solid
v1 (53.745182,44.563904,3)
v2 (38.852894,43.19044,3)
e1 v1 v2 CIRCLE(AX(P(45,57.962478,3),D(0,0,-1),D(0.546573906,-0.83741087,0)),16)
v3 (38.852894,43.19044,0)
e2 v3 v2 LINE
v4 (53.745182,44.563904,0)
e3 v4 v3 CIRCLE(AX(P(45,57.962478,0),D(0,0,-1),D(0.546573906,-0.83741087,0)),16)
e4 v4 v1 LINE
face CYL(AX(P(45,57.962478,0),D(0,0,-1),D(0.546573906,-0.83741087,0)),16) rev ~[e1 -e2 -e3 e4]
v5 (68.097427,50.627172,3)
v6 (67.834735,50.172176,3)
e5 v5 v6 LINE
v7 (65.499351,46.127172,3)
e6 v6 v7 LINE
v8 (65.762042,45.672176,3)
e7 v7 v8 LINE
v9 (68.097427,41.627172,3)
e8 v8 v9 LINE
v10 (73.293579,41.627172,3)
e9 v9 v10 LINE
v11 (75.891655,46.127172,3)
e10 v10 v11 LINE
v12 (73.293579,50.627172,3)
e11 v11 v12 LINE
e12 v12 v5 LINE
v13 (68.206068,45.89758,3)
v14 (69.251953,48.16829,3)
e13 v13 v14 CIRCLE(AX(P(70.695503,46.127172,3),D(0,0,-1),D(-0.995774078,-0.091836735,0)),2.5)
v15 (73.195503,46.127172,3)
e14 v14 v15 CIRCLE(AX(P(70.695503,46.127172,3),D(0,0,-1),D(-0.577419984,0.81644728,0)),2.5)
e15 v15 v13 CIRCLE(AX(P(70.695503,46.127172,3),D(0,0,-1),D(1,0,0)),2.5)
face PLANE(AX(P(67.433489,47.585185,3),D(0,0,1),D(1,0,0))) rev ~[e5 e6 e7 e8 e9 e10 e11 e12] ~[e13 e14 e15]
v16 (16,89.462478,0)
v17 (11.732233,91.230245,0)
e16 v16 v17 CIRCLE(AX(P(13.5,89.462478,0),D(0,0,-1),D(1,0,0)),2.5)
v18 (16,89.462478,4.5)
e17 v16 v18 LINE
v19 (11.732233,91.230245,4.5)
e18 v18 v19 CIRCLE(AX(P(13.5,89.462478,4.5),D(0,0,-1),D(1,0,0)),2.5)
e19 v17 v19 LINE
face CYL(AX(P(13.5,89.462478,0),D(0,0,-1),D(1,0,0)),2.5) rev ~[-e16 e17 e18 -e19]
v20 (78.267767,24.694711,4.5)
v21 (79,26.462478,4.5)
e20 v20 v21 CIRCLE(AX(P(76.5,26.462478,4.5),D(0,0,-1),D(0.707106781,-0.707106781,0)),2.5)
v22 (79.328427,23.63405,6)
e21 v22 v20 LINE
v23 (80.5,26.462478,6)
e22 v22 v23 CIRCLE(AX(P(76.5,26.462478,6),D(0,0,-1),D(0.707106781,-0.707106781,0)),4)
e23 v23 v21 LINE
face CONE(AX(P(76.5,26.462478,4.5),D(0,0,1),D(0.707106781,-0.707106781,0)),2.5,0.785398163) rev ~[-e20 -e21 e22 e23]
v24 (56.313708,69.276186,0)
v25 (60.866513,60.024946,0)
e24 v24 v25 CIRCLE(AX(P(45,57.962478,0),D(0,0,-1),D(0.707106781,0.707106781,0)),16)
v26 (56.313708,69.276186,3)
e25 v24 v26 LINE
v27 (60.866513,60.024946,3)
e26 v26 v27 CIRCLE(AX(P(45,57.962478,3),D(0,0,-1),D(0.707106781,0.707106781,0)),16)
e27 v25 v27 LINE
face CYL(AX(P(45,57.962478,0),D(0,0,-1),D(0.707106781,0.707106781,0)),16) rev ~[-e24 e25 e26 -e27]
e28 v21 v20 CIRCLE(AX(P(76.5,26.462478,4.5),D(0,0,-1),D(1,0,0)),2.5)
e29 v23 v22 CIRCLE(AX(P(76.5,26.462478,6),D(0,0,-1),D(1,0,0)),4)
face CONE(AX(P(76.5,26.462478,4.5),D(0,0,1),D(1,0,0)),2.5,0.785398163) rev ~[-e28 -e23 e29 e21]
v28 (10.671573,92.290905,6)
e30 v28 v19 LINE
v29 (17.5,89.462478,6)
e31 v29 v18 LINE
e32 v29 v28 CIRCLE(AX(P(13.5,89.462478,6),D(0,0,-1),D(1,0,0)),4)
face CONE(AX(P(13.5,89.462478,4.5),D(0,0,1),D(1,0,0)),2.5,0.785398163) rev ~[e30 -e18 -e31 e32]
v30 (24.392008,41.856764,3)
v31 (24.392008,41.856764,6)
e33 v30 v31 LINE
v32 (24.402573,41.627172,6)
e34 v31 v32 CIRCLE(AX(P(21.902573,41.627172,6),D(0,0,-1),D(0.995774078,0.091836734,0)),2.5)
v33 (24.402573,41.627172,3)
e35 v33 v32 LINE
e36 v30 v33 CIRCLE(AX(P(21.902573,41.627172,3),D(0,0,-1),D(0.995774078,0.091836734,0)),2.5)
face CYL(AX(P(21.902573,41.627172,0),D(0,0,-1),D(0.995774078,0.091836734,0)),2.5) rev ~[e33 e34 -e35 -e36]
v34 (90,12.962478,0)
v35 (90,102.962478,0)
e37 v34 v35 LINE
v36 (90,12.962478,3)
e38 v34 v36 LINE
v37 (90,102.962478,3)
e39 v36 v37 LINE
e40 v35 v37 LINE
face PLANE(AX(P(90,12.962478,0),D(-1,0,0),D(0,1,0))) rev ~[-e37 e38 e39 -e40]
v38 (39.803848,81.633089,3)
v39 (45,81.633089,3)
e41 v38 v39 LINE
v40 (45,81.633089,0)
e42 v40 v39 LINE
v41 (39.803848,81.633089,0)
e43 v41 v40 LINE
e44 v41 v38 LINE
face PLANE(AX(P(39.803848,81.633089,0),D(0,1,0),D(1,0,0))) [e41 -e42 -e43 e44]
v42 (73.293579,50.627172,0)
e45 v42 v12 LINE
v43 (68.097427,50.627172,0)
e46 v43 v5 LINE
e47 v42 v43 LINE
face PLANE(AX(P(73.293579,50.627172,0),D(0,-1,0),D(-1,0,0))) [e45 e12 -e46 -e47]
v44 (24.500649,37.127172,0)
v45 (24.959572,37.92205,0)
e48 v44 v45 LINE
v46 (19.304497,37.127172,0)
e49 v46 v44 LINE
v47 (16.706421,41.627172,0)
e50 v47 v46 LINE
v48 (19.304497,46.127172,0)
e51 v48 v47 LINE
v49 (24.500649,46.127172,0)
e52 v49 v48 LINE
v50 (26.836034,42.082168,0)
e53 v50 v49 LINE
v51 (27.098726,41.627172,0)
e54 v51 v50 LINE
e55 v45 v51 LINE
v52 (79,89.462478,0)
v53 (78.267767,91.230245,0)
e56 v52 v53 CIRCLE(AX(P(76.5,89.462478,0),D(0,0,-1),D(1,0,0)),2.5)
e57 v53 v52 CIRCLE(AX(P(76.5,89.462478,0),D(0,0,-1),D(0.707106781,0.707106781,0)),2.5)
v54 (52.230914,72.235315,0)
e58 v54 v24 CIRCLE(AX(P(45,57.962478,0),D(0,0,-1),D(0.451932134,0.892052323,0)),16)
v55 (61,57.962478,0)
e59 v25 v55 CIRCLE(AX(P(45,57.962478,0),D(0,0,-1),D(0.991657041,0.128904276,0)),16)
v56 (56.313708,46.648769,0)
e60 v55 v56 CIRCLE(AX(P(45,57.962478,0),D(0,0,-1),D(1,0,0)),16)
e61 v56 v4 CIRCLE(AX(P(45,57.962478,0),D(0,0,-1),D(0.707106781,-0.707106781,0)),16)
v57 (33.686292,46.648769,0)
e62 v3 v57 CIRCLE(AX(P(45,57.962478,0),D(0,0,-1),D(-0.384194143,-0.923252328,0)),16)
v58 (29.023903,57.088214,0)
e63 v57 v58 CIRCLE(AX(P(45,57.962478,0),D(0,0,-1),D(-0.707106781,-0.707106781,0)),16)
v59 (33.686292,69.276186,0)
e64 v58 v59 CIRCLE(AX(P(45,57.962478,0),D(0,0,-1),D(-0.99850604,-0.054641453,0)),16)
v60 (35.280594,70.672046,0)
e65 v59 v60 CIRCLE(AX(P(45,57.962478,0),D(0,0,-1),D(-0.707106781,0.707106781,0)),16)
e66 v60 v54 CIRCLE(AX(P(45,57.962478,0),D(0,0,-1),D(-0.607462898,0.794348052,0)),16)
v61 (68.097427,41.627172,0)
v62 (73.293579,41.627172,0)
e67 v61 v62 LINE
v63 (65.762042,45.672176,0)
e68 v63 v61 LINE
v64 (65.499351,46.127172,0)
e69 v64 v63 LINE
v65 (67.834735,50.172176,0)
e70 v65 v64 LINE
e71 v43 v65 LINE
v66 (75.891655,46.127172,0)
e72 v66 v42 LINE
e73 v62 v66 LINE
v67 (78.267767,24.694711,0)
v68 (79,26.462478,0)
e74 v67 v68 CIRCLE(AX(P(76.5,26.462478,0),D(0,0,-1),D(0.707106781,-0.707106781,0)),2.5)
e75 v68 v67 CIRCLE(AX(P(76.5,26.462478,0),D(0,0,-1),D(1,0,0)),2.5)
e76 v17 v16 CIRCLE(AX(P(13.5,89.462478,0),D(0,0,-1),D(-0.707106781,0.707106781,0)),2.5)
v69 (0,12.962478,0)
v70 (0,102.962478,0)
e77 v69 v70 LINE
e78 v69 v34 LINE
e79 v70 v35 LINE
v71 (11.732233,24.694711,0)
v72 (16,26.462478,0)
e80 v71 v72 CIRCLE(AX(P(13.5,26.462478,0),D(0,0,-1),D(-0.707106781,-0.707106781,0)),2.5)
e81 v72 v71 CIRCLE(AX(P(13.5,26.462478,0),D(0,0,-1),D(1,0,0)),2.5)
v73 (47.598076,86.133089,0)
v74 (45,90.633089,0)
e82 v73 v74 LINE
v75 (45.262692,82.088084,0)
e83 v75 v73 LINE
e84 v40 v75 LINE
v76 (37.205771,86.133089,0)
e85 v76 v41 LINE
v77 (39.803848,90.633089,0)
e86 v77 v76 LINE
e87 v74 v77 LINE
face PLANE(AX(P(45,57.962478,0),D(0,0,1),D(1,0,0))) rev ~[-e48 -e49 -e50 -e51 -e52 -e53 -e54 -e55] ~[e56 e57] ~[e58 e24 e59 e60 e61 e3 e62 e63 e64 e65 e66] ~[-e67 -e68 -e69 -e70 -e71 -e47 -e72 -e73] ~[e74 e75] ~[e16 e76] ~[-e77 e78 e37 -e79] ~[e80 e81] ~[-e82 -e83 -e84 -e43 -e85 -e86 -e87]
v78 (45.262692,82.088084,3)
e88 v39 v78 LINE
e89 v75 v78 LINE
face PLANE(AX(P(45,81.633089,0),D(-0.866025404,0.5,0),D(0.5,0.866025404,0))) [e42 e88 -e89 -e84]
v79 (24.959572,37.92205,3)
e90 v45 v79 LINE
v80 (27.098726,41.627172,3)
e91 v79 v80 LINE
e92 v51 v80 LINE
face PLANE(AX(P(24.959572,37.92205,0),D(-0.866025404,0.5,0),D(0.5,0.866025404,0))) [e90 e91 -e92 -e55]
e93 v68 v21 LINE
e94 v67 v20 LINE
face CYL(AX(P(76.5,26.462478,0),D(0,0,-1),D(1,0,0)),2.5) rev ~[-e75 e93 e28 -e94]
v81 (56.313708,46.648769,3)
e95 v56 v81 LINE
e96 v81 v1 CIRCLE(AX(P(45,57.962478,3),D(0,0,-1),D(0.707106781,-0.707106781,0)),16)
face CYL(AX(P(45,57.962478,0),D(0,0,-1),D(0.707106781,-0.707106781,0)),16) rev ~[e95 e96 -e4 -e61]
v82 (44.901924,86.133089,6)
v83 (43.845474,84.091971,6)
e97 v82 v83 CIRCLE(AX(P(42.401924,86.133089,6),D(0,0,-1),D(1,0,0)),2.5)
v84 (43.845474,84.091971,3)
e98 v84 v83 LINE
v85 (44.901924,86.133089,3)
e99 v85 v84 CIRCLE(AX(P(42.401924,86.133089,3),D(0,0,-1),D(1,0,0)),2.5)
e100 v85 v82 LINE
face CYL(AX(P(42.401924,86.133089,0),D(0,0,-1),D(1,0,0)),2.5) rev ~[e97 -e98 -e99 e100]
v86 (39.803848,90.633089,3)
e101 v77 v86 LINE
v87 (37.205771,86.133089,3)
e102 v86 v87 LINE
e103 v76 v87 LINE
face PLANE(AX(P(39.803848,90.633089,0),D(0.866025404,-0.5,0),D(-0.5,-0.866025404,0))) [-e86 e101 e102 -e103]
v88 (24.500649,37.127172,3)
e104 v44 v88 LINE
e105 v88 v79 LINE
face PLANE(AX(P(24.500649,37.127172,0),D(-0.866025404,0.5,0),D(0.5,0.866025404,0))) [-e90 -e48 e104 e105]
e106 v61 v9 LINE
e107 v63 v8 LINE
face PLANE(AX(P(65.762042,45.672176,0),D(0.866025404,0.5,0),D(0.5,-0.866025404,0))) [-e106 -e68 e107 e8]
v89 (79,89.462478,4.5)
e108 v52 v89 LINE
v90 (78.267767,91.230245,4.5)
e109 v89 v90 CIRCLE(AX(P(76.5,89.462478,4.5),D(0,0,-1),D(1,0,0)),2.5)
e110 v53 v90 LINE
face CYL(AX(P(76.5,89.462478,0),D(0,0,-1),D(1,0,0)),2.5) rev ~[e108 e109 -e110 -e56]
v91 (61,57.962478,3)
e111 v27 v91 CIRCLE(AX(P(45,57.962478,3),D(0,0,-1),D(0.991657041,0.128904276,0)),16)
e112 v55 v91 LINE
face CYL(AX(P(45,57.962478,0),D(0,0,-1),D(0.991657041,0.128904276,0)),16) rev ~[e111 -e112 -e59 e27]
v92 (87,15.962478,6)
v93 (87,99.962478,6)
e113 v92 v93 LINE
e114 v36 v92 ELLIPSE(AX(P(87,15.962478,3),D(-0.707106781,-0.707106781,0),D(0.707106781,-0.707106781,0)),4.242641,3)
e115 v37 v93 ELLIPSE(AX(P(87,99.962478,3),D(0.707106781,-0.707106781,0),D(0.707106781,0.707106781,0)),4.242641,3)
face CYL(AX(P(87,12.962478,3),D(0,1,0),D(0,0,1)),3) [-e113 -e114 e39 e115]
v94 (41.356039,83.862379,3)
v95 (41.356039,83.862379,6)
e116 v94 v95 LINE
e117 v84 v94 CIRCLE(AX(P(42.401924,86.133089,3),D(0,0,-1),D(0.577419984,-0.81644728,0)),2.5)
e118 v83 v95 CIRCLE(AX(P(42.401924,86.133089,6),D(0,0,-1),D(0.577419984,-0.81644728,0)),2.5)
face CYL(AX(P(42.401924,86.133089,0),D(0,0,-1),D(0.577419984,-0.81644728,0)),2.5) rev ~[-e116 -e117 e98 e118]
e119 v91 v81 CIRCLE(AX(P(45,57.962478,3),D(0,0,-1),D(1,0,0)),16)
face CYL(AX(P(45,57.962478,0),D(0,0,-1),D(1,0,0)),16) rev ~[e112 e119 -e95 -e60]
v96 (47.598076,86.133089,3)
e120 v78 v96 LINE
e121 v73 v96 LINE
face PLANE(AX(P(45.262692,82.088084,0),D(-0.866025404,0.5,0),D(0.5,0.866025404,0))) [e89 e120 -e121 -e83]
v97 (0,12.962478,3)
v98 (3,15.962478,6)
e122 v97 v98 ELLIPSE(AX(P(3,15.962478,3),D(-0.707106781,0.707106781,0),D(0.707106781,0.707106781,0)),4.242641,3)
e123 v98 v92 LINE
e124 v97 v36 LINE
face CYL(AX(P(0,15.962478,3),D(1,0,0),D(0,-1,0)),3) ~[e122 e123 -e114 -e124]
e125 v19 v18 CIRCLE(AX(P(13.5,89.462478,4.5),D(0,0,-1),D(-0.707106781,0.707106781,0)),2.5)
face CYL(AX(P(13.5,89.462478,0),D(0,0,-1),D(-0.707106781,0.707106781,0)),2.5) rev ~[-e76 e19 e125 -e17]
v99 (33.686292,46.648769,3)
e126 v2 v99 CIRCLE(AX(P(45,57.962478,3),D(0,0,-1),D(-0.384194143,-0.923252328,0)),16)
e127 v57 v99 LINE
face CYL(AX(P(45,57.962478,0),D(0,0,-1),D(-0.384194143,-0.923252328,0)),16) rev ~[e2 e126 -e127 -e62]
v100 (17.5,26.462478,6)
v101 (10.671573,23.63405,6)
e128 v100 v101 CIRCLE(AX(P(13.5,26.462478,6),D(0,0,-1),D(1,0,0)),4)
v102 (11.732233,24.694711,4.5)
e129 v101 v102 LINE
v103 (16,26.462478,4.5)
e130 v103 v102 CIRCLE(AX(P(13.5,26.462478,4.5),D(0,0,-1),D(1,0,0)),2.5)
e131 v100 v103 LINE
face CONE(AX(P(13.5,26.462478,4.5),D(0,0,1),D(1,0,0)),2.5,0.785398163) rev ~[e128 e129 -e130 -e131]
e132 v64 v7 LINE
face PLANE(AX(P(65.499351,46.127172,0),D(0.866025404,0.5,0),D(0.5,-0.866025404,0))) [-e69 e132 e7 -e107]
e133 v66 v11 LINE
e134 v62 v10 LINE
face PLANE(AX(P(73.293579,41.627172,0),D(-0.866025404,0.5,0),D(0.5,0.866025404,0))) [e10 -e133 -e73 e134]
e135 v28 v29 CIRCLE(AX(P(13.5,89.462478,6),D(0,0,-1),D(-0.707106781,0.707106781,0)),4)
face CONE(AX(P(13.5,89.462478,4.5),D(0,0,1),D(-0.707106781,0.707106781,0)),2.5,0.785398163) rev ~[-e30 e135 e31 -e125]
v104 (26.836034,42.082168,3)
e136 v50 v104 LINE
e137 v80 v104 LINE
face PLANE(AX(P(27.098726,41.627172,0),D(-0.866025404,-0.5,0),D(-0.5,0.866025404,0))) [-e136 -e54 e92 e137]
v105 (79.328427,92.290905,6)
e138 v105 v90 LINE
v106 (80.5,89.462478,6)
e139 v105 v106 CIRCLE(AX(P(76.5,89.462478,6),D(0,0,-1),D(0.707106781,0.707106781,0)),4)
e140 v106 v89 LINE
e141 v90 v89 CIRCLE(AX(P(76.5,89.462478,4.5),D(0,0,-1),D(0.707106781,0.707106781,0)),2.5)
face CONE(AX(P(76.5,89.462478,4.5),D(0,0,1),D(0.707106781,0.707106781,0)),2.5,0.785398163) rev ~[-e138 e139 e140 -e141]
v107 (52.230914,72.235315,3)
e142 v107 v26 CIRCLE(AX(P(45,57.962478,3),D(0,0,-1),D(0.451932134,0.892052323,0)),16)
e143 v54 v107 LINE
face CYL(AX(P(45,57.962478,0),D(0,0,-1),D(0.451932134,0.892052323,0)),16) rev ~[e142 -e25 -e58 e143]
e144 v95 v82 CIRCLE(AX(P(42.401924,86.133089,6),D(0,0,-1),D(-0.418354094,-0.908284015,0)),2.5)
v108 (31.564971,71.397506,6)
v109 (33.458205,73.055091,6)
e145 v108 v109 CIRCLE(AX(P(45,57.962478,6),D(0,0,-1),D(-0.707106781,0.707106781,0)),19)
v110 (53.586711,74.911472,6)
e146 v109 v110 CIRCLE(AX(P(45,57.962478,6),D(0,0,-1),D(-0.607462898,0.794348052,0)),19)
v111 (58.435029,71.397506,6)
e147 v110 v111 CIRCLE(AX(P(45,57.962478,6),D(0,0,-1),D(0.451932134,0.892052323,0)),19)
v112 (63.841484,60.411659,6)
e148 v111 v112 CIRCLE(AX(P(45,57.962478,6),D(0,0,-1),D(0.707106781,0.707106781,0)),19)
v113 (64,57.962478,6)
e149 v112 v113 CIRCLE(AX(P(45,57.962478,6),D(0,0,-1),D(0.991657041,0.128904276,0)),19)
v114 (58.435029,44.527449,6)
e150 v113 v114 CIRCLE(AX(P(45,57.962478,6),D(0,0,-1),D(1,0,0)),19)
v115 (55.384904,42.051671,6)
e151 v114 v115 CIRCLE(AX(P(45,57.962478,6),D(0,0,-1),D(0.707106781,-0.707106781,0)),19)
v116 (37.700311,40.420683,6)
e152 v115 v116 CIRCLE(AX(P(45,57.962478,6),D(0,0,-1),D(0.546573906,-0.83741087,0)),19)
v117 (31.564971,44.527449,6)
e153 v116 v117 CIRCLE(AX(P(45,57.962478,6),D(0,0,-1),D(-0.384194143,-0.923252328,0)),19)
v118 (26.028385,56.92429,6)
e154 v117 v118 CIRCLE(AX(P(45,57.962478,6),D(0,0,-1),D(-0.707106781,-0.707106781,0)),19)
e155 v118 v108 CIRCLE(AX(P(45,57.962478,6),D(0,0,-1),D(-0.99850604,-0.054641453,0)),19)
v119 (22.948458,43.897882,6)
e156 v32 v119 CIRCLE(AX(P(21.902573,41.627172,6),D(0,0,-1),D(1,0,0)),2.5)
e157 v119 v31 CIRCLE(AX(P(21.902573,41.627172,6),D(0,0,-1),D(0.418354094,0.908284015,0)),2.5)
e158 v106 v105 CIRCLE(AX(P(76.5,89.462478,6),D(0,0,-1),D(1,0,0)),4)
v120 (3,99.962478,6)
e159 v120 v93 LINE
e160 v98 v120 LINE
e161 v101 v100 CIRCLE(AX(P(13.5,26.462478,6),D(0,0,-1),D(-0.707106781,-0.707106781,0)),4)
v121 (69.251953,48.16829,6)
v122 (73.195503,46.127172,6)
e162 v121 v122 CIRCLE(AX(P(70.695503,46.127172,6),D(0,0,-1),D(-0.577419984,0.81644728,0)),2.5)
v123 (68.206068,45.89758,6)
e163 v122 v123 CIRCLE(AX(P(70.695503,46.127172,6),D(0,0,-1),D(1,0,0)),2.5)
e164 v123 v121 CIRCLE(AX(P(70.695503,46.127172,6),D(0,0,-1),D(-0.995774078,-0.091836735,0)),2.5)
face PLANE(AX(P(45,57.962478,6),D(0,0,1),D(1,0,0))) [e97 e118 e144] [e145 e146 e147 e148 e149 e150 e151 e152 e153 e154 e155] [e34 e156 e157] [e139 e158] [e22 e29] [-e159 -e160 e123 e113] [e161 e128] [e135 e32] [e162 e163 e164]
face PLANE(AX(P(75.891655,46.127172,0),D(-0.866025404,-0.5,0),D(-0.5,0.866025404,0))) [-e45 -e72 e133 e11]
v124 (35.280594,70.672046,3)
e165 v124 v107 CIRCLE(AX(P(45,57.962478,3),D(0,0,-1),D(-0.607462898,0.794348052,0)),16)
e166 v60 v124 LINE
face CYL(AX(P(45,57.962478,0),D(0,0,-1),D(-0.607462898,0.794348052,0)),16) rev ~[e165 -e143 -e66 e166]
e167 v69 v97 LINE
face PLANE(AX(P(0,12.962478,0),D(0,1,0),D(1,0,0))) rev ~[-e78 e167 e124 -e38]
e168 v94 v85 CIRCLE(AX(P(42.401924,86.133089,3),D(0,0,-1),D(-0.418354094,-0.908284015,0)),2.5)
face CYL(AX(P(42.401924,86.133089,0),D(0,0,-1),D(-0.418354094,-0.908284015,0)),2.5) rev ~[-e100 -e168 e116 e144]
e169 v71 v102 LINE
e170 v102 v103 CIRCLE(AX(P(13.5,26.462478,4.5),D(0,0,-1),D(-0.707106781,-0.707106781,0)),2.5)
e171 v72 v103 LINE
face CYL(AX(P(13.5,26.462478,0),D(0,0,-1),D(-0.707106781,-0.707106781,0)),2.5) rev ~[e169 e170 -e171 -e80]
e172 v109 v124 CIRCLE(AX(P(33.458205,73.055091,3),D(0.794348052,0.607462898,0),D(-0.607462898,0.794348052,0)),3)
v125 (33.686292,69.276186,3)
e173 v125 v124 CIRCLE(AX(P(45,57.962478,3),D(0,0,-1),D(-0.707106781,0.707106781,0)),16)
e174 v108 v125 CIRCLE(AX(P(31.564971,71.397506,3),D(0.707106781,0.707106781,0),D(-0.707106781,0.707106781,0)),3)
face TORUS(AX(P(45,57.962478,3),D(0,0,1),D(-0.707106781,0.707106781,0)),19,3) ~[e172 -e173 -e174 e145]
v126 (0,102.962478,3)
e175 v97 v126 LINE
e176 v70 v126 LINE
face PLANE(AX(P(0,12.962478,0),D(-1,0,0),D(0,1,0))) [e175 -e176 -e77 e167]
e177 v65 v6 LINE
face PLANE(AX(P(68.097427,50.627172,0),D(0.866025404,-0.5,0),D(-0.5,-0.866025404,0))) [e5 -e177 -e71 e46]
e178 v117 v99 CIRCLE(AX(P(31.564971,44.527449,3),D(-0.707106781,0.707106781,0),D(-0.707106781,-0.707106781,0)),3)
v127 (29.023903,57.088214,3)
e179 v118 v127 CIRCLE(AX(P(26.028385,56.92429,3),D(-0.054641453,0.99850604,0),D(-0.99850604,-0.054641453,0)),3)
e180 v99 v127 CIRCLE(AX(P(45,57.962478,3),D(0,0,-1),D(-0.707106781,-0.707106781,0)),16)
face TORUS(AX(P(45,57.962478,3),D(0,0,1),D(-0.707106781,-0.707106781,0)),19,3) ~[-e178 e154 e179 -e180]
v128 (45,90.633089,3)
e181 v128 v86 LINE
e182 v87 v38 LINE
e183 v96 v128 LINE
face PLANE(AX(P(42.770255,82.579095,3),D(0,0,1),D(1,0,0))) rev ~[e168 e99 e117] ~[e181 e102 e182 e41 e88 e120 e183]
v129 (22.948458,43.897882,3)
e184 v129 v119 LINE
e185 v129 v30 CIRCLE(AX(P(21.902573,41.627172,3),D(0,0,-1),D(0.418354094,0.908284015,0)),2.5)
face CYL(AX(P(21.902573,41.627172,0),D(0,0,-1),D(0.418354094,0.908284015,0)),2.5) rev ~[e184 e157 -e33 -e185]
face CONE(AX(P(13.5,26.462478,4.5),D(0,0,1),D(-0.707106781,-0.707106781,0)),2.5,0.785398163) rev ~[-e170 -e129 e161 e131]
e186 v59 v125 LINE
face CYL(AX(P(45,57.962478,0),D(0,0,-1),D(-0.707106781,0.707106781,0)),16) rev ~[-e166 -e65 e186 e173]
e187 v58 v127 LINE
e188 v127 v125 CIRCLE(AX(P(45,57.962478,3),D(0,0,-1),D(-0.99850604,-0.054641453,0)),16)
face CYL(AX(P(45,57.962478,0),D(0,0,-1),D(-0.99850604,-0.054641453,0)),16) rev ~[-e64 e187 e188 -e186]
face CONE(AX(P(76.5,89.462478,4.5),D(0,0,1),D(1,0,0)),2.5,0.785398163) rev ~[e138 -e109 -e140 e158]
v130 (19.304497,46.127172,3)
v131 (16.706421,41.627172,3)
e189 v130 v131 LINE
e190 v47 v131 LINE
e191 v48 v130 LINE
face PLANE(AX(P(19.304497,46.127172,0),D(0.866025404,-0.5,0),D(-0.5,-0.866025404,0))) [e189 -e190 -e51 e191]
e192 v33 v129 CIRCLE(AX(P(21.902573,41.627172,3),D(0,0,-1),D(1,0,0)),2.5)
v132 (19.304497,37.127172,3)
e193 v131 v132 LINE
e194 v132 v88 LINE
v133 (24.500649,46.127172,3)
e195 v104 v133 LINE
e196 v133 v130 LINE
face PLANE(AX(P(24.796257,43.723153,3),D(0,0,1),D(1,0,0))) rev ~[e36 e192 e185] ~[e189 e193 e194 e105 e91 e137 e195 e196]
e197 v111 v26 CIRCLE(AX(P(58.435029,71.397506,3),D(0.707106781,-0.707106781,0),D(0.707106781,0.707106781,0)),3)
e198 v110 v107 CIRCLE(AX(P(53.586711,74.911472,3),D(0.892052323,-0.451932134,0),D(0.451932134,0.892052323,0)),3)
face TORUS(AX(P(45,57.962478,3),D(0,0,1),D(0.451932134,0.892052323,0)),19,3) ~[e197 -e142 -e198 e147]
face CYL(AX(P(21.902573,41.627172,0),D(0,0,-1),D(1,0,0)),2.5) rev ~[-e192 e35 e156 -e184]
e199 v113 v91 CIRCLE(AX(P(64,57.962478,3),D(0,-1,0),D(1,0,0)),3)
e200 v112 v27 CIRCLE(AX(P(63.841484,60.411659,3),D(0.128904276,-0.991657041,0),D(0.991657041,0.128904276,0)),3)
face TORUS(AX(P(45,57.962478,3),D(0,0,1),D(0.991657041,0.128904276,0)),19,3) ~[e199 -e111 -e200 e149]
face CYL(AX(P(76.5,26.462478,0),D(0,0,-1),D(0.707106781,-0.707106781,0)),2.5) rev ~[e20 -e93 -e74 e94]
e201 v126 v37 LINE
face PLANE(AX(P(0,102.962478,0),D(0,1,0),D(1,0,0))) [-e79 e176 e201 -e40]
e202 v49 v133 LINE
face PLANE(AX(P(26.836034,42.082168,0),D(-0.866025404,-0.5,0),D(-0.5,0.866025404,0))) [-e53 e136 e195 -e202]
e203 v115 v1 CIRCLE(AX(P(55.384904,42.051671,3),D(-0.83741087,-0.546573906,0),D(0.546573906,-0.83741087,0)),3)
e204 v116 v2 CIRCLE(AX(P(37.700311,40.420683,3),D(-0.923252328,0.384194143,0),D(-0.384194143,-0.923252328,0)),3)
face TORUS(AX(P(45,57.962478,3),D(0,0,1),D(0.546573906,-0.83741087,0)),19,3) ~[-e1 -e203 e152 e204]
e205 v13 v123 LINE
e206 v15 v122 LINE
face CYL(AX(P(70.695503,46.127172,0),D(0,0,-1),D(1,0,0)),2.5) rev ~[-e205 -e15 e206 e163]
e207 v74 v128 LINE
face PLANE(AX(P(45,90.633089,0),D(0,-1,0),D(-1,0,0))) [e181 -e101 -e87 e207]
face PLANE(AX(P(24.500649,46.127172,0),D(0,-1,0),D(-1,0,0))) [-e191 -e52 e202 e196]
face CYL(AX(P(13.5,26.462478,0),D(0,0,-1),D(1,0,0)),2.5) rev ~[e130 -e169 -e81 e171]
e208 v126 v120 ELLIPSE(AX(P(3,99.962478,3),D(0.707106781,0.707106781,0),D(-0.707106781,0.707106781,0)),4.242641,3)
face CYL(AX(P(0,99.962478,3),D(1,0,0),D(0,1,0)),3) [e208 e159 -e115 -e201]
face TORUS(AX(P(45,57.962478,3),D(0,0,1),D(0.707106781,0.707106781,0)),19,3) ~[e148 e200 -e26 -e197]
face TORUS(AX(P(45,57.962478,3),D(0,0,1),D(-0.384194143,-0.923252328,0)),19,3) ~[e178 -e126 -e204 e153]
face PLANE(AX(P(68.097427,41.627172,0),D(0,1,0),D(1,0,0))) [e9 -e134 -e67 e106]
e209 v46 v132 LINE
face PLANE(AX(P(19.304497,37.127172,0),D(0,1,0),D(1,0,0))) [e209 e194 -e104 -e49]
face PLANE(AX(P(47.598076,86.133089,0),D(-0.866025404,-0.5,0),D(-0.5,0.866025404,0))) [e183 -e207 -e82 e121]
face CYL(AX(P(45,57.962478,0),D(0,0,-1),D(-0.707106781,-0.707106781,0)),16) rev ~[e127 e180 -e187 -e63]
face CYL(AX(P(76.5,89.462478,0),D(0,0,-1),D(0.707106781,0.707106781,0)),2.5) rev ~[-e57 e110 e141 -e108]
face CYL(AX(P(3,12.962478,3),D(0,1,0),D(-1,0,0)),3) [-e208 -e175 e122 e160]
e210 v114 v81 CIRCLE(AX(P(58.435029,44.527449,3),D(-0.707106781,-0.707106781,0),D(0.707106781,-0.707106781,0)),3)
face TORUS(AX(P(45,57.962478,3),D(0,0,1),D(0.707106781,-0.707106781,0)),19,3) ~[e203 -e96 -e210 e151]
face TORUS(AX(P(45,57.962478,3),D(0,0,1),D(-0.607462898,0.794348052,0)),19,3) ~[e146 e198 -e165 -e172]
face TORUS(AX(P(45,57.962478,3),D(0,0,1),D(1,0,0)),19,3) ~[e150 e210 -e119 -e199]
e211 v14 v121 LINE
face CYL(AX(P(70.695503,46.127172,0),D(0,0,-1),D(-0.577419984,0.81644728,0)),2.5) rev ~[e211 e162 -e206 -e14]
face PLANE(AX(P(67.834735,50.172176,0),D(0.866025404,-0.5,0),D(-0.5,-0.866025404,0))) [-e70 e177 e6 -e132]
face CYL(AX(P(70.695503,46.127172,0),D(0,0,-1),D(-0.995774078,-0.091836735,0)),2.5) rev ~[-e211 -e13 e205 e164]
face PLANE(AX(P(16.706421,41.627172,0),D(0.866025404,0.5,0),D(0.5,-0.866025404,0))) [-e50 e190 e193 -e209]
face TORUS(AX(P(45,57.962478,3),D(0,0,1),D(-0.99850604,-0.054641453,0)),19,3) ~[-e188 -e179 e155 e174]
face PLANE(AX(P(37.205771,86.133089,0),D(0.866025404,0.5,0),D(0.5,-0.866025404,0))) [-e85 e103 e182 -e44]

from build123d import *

# Parameters (mm, degrees)
F0_W     = 90
F0_H     = 90
F1_DEPTH = 6
F2_DEPTH = 3
F3_R     = 3
F4_SIZE  = 1.5


with BuildPart() as f1:
    # F0 (on Top) → F1 (new body)
    with BuildSketch(Plane.XY):
        with Locations((45, 57.9624775852)):
            Rectangle(F0_W, F0_H)
        with BuildLine():
            ThreePointArc((16, 26.4624775852), (14.4567085809, 24.152778754), (11.732233047, 24.6947106323))
            ThreePointArc((11.732233047, 24.6947106323), (12.5432914191, 28.7721764165), (16, 26.4624775852))
        make_face(mode=Mode.SUBTRACT)
        with BuildLine():
            ThreePointArc((79, 26.4624775852), (78.8096988313, 25.5057690043), (78.267766953, 24.6947106323))
            ThreePointArc((78.267766953, 24.6947106323), (74.1903011687, 27.4191861662), (79, 26.4624775852))
        make_face(mode=Mode.SUBTRACT)
        with BuildLine():
            ThreePointArc((16, 89.4624775852), (12.5432914191, 87.152778754), (11.732233047, 91.2302445382))
            ThreePointArc((11.732233047, 91.2302445382), (14.4567085809, 91.7721764165), (16, 89.4624775852))
        make_face(mode=Mode.SUBTRACT)
        with BuildLine():
            Line((65.762042471, 45.6721763201), (53.7451824967, 44.5639036649))
            ThreePointArc((53.7451824967, 44.5639036649), (46.4693877551, 42.0300923393), (38.8528937147, 43.190440342))
            Line((38.8528937147, 43.190440342), (26.8360337403, 42.0821676867))
            Line((26.8360337403, 42.0821676867), (27.0987256205, 41.6271720034))
            Line((27.0987256205, 41.6271720034), (24.9595724614, 37.9220500467))
            Line((24.9595724614, 37.9220500467), (24.5006494092, 37.1271720034))
            Line((24.5006494092, 37.1271720034), (19.3044969865, 37.1271720034))
            Line((19.3044969865, 37.1271720034), (16.7064207751, 41.6271720034))
            Line((16.7064207751, 41.6271720034), (19.3044969865, 46.1271720034))
            Line((19.3044969865, 46.1271720034), (23.9752656487, 46.1271720034))
            Line((23.9752656487, 46.1271720034), (29.0239033621, 57.0882143426))
            ThreePointArc((29.0239033621, 57.0882143426), (30.0561039252, 63.6791173416), (33.686291501, 69.2761860842))
            ThreePointArc((33.686291501, 69.2761860842), (34.4603089777, 70.0005386067), (35.2805936243, 70.6720464098))
            Line((35.2805936243, 70.6720464098), (40.3292313377, 81.6330887489))
            Line((40.3292313377, 81.6330887489), (39.8038475773, 81.6330887489))
            Line((39.8038475773, 81.6330887489), (37.2057713659, 86.1330887489))
            Line((37.2057713659, 86.1330887489), (39.8038475773, 90.6330887489))
            Line((39.8038475773, 90.6330887489), (45, 90.6330887489))
            Line((45, 90.6330887489), (47.5980762114, 86.1330887489))
            Line((47.5980762114, 86.1330887489), (45.2626918802, 82.0880844322))
            Line((45.2626918802, 82.0880844322), (52.2309141412, 72.2353147483))
            ThreePointArc((52.2309141412, 72.2353147483), (54.3896148925, 70.9175975064), (56.313708499, 69.2761860842))
            ThreePointArc((56.313708499, 69.2761860842), (59.3557468051, 65.0273578863), (60.866512661, 60.024946004))
            Line((60.866512661, 60.024946004), (67.8347349219, 50.1721763201))
            Line((67.8347349219, 50.1721763201), (68.0974268022, 50.6271720034))
            Line((68.0974268022, 50.6271720034), (73.2935792249, 50.6271720034))
            Line((73.2935792249, 50.6271720034), (75.8916554362, 46.1271720034))
            Line((75.8916554362, 46.1271720034), (73.2935792249, 41.6271720034))
            Line((73.2935792249, 41.6271720034), (68.0974268022, 41.6271720034))
            Line((68.0974268022, 41.6271720034), (65.762042471, 45.6721763201))
        make_face(mode=Mode.SUBTRACT)
        with BuildLine():
            ThreePointArc((79, 89.4624775852), (74.1903011687, 88.5057690043), (78.267766953, 91.2302445382))
            ThreePointArc((78.267766953, 91.2302445382), (78.8096988313, 90.4191861662), (79, 89.4624775852))
        make_face(mode=Mode.SUBTRACT)
        with BuildLine():
            Line((26.8360337403, 42.0821676867), (38.8528937147, 43.190440342))
            ThreePointArc((38.8528937147, 43.190440342), (36.099998727, 44.6662383673), (33.686291501, 46.6487690863))
            ThreePointArc((33.686291501, 46.6487690863), (30.3907950108, 51.4378220707), (29.0239033621, 57.0882143426))
            Line((29.0239033621, 57.0882143426), (23.9752656487, 46.1271720034))
            Line((23.9752656487, 46.1271720034), (24.5006494092, 46.1271720034))
            Line((24.5006494092, 46.1271720034), (26.8360337403, 42.0821676867))
        make_face()
        with BuildLine():
            Line((40.3292313377, 81.6330887489), (35.2805936243, 70.6720464098))
            ThreePointArc((35.2805936243, 70.6720464098), (43.5306122449, 73.8948628312), (52.2309141412, 72.2353147483))
            Line((52.2309141412, 72.2353147483), (45.2626918802, 82.0880844322))
            Line((45.2626918802, 82.0880844322), (45, 81.6330887489))
            Line((45, 81.6330887489), (40.3292313377, 81.6330887489))
        make_face()
        with BuildLine():
            ThreePointArc((61, 57.9624775852), (59.7820725202, 51.8395426674), (56.313708499, 46.6487690863))
            ThreePointArc((56.313708499, 46.6487690863), (55.0834737541, 45.5397742945), (53.7451824967, 44.5639036649))
            Line((53.7451824967, 44.5639036649), (65.762042471, 45.6721763201))
            Line((65.762042471, 45.6721763201), (65.4993505908, 46.1271720034))
            Line((65.4993505908, 46.1271720034), (67.8347349219, 50.1721763201))
            Line((67.8347349219, 50.1721763201), (60.866512661, 60.024946004))
            ThreePointArc((60.866512661, 60.024946004), (60.96659329, 58.9958694335), (61, 57.9624775852))
        make_face()
        with BuildLine():
            Line((39.8038475773, 81.6330887489), (40.3292313377, 81.6330887489))
            Line((40.3292313377, 81.6330887489), (41.3560385544, 83.8623787109))
            ThreePointArc((41.3560385544, 83.8623787109), (41.0537237081, 88.2384050061), (44.9019237886, 86.1330887489))
            ThreePointArc((44.9019237886, 86.1330887489), (44.6221574364, 84.9839314274), (43.8454737491, 84.0919705476))
            Line((43.8454737491, 84.0919705476), (45.2626918802, 82.0880844322))
            Line((45.2626918802, 82.0880844322), (47.5980762114, 86.1330887489))
            Line((47.5980762114, 86.1330887489), (45, 90.6330887489))
            Line((45, 90.6330887489), (39.8038475773, 90.6330887489))
            Line((39.8038475773, 90.6330887489), (37.2057713659, 86.1330887489))
            Line((37.2057713659, 86.1330887489), (39.8038475773, 81.6330887489))
        make_face()
        with BuildLine():
            Line((27.0987256205, 41.6271720034), (26.8360337403, 42.0821676867))
            Line((26.8360337403, 42.0821676867), (24.3920083925, 41.8567638402))
            ThreePointArc((24.3920083925, 41.8567638402), (24.3999305998, 41.742089394), (24.4025731978, 41.6271720034))
            ThreePointArc((24.4025731978, 41.6271720034), (19.7972569406, 40.2789719229), (22.9484584321, 43.8978820415))
            Line((22.9484584321, 43.8978820415), (23.9752656487, 46.1271720034))
            Line((23.9752656487, 46.1271720034), (19.3044969865, 46.1271720034))
            Line((19.3044969865, 46.1271720034), (16.7064207751, 41.6271720034))
            Line((16.7064207751, 41.6271720034), (19.3044969865, 37.1271720034))
            Line((19.3044969865, 37.1271720034), (24.5006494092, 37.1271720034))
            Line((24.5006494092, 37.1271720034), (24.9595724614, 37.9220500467))
            Line((24.9595724614, 37.9220500467), (27.0987256205, 41.6271720034))
        make_face()
        with BuildLine():
            Line((68.2060678188, 45.8975801667), (65.762042471, 45.6721763201))
            Line((65.762042471, 45.6721763201), (68.0974268022, 41.6271720034))
            Line((68.0974268022, 41.6271720034), (73.2935792249, 41.6271720034))
            Line((73.2935792249, 41.6271720034), (75.8916554362, 46.1271720034))
            Line((75.8916554362, 46.1271720034), (73.2935792249, 50.6271720034))
            Line((73.2935792249, 50.6271720034), (68.0974268022, 50.6271720034))
            Line((68.0974268022, 50.6271720034), (67.8347349219, 50.1721763201))
            Line((67.8347349219, 50.1721763201), (69.2519530531, 48.1682902047))
            ThreePointArc((69.2519530531, 48.1682902047), (71.844660335, 48.3474056512), (73.1955030135, 46.1271720034))
            ThreePointArc((73.1955030135, 46.1271720034), (70.8104204041, 43.6298146014), (68.2060678188, 45.8975801667))
        make_face()
        with BuildLine():
            Line((41.3560385544, 83.8623787109), (40.3292313377, 81.6330887489))
            Line((40.3292313377, 81.6330887489), (45, 81.6330887489))
            Line((45, 81.6330887489), (45.2626918802, 82.0880844322))
            Line((45.2626918802, 82.0880844322), (43.8454737491, 84.0919705476))
            ThreePointArc((43.8454737491, 84.0919705476), (42.6315156254, 83.6436535542), (41.3560385544, 83.8623787109))
        make_face()
        with BuildLine():
            Line((24.3920083925, 41.8567638402), (26.8360337403, 42.0821676867))
            Line((26.8360337403, 42.0821676867), (24.5006494092, 46.1271720034))
            Line((24.5006494092, 46.1271720034), (23.9752656487, 46.1271720034))
            Line((23.9752656487, 46.1271720034), (22.9484584321, 43.8978820415))
            ThreePointArc((22.9484584321, 43.8978820415), (23.9436913991, 43.0707219639), (24.3920083925, 41.8567638402))
        make_face()
        with BuildLine():
            Line((65.4993505908, 46.1271720034), (65.762042471, 45.6721763201))
            Line((65.762042471, 45.6721763201), (68.2060678188, 45.8975801667))
            ThreePointArc((68.2060678188, 45.8975801667), (68.4247929755, 47.1730572377), (69.2519530531, 48.1682902047))
            Line((69.2519530531, 48.1682902047), (67.8347349219, 50.1721763201))
            Line((67.8347349219, 50.1721763201), (65.4993505908, 46.1271720034))
        make_face()
    extrude(amount=F1_DEPTH)

    # F0 (on Top) → F2 (cut)
    with BuildSketch(Plane.XY):
        with BuildLine():
            Line((41.3560385544, 83.8623787109), (40.3292313377, 81.6330887489))
            Line((40.3292313377, 81.6330887489), (45, 81.6330887489))
            Line((45, 81.6330887489), (45.2626918802, 82.0880844322))
            Line((45.2626918802, 82.0880844322), (43.8454737491, 84.0919705476))
            ThreePointArc((43.8454737491, 84.0919705476), (42.6315156254, 83.6436535542), (41.3560385544, 83.8623787109))
        make_face()
        with BuildLine():
            Line((39.8038475773, 81.6330887489), (40.3292313377, 81.6330887489))
            Line((40.3292313377, 81.6330887489), (41.3560385544, 83.8623787109))
            ThreePointArc((41.3560385544, 83.8623787109), (41.0537237081, 88.2384050061), (44.9019237886, 86.1330887489))
            ThreePointArc((44.9019237886, 86.1330887489), (44.6221574364, 84.9839314274), (43.8454737491, 84.0919705476))
            Line((43.8454737491, 84.0919705476), (45.2626918802, 82.0880844322))
            Line((45.2626918802, 82.0880844322), (47.5980762114, 86.1330887489))
            Line((47.5980762114, 86.1330887489), (45, 90.6330887489))
            Line((45, 90.6330887489), (39.8038475773, 90.6330887489))
            Line((39.8038475773, 90.6330887489), (37.2057713659, 86.1330887489))
            Line((37.2057713659, 86.1330887489), (39.8038475773, 81.6330887489))
        make_face()
        with BuildLine():
            Line((24.3920083925, 41.8567638402), (26.8360337403, 42.0821676867))
            Line((26.8360337403, 42.0821676867), (24.5006494092, 46.1271720034))
            Line((24.5006494092, 46.1271720034), (23.9752656487, 46.1271720034))
            Line((23.9752656487, 46.1271720034), (22.9484584321, 43.8978820415))
            ThreePointArc((22.9484584321, 43.8978820415), (23.9436913991, 43.0707219639), (24.3920083925, 41.8567638402))
        make_face()
        with BuildLine():
            Line((27.0987256205, 41.6271720034), (26.8360337403, 42.0821676867))
            Line((26.8360337403, 42.0821676867), (24.3920083925, 41.8567638402))
            ThreePointArc((24.3920083925, 41.8567638402), (24.3999305998, 41.742089394), (24.4025731978, 41.6271720034))
            ThreePointArc((24.4025731978, 41.6271720034), (19.7972569406, 40.2789719229), (22.9484584321, 43.8978820415))
            Line((22.9484584321, 43.8978820415), (23.9752656487, 46.1271720034))
            Line((23.9752656487, 46.1271720034), (19.3044969865, 46.1271720034))
            Line((19.3044969865, 46.1271720034), (16.7064207751, 41.6271720034))
            Line((16.7064207751, 41.6271720034), (19.3044969865, 37.1271720034))
            Line((19.3044969865, 37.1271720034), (24.5006494092, 37.1271720034))
            Line((24.5006494092, 37.1271720034), (24.9595724614, 37.9220500467))
            Line((24.9595724614, 37.9220500467), (27.0987256205, 41.6271720034))
        make_face()
        with BuildLine():
            Line((65.4993505908, 46.1271720034), (65.762042471, 45.6721763201))
            Line((65.762042471, 45.6721763201), (68.2060678188, 45.8975801667))
            ThreePointArc((68.2060678188, 45.8975801667), (68.4247929755, 47.1730572377), (69.2519530531, 48.1682902047))
            Line((69.2519530531, 48.1682902047), (67.8347349219, 50.1721763201))
            Line((67.8347349219, 50.1721763201), (65.4993505908, 46.1271720034))
        make_face()
        with BuildLine():
            Line((68.2060678188, 45.8975801667), (65.762042471, 45.6721763201))
            Line((65.762042471, 45.6721763201), (68.0974268022, 41.6271720034))
            Line((68.0974268022, 41.6271720034), (73.2935792249, 41.6271720034))
            Line((73.2935792249, 41.6271720034), (75.8916554362, 46.1271720034))
            Line((75.8916554362, 46.1271720034), (73.2935792249, 50.6271720034))
            Line((73.2935792249, 50.6271720034), (68.0974268022, 50.6271720034))
            Line((68.0974268022, 50.6271720034), (67.8347349219, 50.1721763201))
            Line((67.8347349219, 50.1721763201), (69.2519530531, 48.1682902047))
            ThreePointArc((69.2519530531, 48.1682902047), (71.844660335, 48.3474056512), (73.1955030135, 46.1271720034))
            ThreePointArc((73.1955030135, 46.1271720034), (70.8104204041, 43.6298146014), (68.2060678188, 45.8975801667))
        make_face()
    extrude(amount=F2_DEPTH, mode=Mode.SUBTRACT)

    # F3
    f3_edges = [f1.edges().sort_by_distance(p)[0] for p in [
        (0, 57.962478, 6),
        (45, 12.962478, 6),
        (45, 102.962478, 6),
        (90, 57.962478, 6),
        (29.133487, 55.900009, 6),
    ]]
    fillet(f3_edges, radius=F3_R)

    # F4
    f4_edges = [f1.edges().sort_by_distance(p)[0] for p in [
        (11, 89.462478, 6),
        (74, 89.462478, 6),
        (74.732233, 28.230245, 6),
        (15.267767, 28.230245, 6),
    ]]
    chamfer(f4_edges, length=F4_SIZE)


solid = f1.part
